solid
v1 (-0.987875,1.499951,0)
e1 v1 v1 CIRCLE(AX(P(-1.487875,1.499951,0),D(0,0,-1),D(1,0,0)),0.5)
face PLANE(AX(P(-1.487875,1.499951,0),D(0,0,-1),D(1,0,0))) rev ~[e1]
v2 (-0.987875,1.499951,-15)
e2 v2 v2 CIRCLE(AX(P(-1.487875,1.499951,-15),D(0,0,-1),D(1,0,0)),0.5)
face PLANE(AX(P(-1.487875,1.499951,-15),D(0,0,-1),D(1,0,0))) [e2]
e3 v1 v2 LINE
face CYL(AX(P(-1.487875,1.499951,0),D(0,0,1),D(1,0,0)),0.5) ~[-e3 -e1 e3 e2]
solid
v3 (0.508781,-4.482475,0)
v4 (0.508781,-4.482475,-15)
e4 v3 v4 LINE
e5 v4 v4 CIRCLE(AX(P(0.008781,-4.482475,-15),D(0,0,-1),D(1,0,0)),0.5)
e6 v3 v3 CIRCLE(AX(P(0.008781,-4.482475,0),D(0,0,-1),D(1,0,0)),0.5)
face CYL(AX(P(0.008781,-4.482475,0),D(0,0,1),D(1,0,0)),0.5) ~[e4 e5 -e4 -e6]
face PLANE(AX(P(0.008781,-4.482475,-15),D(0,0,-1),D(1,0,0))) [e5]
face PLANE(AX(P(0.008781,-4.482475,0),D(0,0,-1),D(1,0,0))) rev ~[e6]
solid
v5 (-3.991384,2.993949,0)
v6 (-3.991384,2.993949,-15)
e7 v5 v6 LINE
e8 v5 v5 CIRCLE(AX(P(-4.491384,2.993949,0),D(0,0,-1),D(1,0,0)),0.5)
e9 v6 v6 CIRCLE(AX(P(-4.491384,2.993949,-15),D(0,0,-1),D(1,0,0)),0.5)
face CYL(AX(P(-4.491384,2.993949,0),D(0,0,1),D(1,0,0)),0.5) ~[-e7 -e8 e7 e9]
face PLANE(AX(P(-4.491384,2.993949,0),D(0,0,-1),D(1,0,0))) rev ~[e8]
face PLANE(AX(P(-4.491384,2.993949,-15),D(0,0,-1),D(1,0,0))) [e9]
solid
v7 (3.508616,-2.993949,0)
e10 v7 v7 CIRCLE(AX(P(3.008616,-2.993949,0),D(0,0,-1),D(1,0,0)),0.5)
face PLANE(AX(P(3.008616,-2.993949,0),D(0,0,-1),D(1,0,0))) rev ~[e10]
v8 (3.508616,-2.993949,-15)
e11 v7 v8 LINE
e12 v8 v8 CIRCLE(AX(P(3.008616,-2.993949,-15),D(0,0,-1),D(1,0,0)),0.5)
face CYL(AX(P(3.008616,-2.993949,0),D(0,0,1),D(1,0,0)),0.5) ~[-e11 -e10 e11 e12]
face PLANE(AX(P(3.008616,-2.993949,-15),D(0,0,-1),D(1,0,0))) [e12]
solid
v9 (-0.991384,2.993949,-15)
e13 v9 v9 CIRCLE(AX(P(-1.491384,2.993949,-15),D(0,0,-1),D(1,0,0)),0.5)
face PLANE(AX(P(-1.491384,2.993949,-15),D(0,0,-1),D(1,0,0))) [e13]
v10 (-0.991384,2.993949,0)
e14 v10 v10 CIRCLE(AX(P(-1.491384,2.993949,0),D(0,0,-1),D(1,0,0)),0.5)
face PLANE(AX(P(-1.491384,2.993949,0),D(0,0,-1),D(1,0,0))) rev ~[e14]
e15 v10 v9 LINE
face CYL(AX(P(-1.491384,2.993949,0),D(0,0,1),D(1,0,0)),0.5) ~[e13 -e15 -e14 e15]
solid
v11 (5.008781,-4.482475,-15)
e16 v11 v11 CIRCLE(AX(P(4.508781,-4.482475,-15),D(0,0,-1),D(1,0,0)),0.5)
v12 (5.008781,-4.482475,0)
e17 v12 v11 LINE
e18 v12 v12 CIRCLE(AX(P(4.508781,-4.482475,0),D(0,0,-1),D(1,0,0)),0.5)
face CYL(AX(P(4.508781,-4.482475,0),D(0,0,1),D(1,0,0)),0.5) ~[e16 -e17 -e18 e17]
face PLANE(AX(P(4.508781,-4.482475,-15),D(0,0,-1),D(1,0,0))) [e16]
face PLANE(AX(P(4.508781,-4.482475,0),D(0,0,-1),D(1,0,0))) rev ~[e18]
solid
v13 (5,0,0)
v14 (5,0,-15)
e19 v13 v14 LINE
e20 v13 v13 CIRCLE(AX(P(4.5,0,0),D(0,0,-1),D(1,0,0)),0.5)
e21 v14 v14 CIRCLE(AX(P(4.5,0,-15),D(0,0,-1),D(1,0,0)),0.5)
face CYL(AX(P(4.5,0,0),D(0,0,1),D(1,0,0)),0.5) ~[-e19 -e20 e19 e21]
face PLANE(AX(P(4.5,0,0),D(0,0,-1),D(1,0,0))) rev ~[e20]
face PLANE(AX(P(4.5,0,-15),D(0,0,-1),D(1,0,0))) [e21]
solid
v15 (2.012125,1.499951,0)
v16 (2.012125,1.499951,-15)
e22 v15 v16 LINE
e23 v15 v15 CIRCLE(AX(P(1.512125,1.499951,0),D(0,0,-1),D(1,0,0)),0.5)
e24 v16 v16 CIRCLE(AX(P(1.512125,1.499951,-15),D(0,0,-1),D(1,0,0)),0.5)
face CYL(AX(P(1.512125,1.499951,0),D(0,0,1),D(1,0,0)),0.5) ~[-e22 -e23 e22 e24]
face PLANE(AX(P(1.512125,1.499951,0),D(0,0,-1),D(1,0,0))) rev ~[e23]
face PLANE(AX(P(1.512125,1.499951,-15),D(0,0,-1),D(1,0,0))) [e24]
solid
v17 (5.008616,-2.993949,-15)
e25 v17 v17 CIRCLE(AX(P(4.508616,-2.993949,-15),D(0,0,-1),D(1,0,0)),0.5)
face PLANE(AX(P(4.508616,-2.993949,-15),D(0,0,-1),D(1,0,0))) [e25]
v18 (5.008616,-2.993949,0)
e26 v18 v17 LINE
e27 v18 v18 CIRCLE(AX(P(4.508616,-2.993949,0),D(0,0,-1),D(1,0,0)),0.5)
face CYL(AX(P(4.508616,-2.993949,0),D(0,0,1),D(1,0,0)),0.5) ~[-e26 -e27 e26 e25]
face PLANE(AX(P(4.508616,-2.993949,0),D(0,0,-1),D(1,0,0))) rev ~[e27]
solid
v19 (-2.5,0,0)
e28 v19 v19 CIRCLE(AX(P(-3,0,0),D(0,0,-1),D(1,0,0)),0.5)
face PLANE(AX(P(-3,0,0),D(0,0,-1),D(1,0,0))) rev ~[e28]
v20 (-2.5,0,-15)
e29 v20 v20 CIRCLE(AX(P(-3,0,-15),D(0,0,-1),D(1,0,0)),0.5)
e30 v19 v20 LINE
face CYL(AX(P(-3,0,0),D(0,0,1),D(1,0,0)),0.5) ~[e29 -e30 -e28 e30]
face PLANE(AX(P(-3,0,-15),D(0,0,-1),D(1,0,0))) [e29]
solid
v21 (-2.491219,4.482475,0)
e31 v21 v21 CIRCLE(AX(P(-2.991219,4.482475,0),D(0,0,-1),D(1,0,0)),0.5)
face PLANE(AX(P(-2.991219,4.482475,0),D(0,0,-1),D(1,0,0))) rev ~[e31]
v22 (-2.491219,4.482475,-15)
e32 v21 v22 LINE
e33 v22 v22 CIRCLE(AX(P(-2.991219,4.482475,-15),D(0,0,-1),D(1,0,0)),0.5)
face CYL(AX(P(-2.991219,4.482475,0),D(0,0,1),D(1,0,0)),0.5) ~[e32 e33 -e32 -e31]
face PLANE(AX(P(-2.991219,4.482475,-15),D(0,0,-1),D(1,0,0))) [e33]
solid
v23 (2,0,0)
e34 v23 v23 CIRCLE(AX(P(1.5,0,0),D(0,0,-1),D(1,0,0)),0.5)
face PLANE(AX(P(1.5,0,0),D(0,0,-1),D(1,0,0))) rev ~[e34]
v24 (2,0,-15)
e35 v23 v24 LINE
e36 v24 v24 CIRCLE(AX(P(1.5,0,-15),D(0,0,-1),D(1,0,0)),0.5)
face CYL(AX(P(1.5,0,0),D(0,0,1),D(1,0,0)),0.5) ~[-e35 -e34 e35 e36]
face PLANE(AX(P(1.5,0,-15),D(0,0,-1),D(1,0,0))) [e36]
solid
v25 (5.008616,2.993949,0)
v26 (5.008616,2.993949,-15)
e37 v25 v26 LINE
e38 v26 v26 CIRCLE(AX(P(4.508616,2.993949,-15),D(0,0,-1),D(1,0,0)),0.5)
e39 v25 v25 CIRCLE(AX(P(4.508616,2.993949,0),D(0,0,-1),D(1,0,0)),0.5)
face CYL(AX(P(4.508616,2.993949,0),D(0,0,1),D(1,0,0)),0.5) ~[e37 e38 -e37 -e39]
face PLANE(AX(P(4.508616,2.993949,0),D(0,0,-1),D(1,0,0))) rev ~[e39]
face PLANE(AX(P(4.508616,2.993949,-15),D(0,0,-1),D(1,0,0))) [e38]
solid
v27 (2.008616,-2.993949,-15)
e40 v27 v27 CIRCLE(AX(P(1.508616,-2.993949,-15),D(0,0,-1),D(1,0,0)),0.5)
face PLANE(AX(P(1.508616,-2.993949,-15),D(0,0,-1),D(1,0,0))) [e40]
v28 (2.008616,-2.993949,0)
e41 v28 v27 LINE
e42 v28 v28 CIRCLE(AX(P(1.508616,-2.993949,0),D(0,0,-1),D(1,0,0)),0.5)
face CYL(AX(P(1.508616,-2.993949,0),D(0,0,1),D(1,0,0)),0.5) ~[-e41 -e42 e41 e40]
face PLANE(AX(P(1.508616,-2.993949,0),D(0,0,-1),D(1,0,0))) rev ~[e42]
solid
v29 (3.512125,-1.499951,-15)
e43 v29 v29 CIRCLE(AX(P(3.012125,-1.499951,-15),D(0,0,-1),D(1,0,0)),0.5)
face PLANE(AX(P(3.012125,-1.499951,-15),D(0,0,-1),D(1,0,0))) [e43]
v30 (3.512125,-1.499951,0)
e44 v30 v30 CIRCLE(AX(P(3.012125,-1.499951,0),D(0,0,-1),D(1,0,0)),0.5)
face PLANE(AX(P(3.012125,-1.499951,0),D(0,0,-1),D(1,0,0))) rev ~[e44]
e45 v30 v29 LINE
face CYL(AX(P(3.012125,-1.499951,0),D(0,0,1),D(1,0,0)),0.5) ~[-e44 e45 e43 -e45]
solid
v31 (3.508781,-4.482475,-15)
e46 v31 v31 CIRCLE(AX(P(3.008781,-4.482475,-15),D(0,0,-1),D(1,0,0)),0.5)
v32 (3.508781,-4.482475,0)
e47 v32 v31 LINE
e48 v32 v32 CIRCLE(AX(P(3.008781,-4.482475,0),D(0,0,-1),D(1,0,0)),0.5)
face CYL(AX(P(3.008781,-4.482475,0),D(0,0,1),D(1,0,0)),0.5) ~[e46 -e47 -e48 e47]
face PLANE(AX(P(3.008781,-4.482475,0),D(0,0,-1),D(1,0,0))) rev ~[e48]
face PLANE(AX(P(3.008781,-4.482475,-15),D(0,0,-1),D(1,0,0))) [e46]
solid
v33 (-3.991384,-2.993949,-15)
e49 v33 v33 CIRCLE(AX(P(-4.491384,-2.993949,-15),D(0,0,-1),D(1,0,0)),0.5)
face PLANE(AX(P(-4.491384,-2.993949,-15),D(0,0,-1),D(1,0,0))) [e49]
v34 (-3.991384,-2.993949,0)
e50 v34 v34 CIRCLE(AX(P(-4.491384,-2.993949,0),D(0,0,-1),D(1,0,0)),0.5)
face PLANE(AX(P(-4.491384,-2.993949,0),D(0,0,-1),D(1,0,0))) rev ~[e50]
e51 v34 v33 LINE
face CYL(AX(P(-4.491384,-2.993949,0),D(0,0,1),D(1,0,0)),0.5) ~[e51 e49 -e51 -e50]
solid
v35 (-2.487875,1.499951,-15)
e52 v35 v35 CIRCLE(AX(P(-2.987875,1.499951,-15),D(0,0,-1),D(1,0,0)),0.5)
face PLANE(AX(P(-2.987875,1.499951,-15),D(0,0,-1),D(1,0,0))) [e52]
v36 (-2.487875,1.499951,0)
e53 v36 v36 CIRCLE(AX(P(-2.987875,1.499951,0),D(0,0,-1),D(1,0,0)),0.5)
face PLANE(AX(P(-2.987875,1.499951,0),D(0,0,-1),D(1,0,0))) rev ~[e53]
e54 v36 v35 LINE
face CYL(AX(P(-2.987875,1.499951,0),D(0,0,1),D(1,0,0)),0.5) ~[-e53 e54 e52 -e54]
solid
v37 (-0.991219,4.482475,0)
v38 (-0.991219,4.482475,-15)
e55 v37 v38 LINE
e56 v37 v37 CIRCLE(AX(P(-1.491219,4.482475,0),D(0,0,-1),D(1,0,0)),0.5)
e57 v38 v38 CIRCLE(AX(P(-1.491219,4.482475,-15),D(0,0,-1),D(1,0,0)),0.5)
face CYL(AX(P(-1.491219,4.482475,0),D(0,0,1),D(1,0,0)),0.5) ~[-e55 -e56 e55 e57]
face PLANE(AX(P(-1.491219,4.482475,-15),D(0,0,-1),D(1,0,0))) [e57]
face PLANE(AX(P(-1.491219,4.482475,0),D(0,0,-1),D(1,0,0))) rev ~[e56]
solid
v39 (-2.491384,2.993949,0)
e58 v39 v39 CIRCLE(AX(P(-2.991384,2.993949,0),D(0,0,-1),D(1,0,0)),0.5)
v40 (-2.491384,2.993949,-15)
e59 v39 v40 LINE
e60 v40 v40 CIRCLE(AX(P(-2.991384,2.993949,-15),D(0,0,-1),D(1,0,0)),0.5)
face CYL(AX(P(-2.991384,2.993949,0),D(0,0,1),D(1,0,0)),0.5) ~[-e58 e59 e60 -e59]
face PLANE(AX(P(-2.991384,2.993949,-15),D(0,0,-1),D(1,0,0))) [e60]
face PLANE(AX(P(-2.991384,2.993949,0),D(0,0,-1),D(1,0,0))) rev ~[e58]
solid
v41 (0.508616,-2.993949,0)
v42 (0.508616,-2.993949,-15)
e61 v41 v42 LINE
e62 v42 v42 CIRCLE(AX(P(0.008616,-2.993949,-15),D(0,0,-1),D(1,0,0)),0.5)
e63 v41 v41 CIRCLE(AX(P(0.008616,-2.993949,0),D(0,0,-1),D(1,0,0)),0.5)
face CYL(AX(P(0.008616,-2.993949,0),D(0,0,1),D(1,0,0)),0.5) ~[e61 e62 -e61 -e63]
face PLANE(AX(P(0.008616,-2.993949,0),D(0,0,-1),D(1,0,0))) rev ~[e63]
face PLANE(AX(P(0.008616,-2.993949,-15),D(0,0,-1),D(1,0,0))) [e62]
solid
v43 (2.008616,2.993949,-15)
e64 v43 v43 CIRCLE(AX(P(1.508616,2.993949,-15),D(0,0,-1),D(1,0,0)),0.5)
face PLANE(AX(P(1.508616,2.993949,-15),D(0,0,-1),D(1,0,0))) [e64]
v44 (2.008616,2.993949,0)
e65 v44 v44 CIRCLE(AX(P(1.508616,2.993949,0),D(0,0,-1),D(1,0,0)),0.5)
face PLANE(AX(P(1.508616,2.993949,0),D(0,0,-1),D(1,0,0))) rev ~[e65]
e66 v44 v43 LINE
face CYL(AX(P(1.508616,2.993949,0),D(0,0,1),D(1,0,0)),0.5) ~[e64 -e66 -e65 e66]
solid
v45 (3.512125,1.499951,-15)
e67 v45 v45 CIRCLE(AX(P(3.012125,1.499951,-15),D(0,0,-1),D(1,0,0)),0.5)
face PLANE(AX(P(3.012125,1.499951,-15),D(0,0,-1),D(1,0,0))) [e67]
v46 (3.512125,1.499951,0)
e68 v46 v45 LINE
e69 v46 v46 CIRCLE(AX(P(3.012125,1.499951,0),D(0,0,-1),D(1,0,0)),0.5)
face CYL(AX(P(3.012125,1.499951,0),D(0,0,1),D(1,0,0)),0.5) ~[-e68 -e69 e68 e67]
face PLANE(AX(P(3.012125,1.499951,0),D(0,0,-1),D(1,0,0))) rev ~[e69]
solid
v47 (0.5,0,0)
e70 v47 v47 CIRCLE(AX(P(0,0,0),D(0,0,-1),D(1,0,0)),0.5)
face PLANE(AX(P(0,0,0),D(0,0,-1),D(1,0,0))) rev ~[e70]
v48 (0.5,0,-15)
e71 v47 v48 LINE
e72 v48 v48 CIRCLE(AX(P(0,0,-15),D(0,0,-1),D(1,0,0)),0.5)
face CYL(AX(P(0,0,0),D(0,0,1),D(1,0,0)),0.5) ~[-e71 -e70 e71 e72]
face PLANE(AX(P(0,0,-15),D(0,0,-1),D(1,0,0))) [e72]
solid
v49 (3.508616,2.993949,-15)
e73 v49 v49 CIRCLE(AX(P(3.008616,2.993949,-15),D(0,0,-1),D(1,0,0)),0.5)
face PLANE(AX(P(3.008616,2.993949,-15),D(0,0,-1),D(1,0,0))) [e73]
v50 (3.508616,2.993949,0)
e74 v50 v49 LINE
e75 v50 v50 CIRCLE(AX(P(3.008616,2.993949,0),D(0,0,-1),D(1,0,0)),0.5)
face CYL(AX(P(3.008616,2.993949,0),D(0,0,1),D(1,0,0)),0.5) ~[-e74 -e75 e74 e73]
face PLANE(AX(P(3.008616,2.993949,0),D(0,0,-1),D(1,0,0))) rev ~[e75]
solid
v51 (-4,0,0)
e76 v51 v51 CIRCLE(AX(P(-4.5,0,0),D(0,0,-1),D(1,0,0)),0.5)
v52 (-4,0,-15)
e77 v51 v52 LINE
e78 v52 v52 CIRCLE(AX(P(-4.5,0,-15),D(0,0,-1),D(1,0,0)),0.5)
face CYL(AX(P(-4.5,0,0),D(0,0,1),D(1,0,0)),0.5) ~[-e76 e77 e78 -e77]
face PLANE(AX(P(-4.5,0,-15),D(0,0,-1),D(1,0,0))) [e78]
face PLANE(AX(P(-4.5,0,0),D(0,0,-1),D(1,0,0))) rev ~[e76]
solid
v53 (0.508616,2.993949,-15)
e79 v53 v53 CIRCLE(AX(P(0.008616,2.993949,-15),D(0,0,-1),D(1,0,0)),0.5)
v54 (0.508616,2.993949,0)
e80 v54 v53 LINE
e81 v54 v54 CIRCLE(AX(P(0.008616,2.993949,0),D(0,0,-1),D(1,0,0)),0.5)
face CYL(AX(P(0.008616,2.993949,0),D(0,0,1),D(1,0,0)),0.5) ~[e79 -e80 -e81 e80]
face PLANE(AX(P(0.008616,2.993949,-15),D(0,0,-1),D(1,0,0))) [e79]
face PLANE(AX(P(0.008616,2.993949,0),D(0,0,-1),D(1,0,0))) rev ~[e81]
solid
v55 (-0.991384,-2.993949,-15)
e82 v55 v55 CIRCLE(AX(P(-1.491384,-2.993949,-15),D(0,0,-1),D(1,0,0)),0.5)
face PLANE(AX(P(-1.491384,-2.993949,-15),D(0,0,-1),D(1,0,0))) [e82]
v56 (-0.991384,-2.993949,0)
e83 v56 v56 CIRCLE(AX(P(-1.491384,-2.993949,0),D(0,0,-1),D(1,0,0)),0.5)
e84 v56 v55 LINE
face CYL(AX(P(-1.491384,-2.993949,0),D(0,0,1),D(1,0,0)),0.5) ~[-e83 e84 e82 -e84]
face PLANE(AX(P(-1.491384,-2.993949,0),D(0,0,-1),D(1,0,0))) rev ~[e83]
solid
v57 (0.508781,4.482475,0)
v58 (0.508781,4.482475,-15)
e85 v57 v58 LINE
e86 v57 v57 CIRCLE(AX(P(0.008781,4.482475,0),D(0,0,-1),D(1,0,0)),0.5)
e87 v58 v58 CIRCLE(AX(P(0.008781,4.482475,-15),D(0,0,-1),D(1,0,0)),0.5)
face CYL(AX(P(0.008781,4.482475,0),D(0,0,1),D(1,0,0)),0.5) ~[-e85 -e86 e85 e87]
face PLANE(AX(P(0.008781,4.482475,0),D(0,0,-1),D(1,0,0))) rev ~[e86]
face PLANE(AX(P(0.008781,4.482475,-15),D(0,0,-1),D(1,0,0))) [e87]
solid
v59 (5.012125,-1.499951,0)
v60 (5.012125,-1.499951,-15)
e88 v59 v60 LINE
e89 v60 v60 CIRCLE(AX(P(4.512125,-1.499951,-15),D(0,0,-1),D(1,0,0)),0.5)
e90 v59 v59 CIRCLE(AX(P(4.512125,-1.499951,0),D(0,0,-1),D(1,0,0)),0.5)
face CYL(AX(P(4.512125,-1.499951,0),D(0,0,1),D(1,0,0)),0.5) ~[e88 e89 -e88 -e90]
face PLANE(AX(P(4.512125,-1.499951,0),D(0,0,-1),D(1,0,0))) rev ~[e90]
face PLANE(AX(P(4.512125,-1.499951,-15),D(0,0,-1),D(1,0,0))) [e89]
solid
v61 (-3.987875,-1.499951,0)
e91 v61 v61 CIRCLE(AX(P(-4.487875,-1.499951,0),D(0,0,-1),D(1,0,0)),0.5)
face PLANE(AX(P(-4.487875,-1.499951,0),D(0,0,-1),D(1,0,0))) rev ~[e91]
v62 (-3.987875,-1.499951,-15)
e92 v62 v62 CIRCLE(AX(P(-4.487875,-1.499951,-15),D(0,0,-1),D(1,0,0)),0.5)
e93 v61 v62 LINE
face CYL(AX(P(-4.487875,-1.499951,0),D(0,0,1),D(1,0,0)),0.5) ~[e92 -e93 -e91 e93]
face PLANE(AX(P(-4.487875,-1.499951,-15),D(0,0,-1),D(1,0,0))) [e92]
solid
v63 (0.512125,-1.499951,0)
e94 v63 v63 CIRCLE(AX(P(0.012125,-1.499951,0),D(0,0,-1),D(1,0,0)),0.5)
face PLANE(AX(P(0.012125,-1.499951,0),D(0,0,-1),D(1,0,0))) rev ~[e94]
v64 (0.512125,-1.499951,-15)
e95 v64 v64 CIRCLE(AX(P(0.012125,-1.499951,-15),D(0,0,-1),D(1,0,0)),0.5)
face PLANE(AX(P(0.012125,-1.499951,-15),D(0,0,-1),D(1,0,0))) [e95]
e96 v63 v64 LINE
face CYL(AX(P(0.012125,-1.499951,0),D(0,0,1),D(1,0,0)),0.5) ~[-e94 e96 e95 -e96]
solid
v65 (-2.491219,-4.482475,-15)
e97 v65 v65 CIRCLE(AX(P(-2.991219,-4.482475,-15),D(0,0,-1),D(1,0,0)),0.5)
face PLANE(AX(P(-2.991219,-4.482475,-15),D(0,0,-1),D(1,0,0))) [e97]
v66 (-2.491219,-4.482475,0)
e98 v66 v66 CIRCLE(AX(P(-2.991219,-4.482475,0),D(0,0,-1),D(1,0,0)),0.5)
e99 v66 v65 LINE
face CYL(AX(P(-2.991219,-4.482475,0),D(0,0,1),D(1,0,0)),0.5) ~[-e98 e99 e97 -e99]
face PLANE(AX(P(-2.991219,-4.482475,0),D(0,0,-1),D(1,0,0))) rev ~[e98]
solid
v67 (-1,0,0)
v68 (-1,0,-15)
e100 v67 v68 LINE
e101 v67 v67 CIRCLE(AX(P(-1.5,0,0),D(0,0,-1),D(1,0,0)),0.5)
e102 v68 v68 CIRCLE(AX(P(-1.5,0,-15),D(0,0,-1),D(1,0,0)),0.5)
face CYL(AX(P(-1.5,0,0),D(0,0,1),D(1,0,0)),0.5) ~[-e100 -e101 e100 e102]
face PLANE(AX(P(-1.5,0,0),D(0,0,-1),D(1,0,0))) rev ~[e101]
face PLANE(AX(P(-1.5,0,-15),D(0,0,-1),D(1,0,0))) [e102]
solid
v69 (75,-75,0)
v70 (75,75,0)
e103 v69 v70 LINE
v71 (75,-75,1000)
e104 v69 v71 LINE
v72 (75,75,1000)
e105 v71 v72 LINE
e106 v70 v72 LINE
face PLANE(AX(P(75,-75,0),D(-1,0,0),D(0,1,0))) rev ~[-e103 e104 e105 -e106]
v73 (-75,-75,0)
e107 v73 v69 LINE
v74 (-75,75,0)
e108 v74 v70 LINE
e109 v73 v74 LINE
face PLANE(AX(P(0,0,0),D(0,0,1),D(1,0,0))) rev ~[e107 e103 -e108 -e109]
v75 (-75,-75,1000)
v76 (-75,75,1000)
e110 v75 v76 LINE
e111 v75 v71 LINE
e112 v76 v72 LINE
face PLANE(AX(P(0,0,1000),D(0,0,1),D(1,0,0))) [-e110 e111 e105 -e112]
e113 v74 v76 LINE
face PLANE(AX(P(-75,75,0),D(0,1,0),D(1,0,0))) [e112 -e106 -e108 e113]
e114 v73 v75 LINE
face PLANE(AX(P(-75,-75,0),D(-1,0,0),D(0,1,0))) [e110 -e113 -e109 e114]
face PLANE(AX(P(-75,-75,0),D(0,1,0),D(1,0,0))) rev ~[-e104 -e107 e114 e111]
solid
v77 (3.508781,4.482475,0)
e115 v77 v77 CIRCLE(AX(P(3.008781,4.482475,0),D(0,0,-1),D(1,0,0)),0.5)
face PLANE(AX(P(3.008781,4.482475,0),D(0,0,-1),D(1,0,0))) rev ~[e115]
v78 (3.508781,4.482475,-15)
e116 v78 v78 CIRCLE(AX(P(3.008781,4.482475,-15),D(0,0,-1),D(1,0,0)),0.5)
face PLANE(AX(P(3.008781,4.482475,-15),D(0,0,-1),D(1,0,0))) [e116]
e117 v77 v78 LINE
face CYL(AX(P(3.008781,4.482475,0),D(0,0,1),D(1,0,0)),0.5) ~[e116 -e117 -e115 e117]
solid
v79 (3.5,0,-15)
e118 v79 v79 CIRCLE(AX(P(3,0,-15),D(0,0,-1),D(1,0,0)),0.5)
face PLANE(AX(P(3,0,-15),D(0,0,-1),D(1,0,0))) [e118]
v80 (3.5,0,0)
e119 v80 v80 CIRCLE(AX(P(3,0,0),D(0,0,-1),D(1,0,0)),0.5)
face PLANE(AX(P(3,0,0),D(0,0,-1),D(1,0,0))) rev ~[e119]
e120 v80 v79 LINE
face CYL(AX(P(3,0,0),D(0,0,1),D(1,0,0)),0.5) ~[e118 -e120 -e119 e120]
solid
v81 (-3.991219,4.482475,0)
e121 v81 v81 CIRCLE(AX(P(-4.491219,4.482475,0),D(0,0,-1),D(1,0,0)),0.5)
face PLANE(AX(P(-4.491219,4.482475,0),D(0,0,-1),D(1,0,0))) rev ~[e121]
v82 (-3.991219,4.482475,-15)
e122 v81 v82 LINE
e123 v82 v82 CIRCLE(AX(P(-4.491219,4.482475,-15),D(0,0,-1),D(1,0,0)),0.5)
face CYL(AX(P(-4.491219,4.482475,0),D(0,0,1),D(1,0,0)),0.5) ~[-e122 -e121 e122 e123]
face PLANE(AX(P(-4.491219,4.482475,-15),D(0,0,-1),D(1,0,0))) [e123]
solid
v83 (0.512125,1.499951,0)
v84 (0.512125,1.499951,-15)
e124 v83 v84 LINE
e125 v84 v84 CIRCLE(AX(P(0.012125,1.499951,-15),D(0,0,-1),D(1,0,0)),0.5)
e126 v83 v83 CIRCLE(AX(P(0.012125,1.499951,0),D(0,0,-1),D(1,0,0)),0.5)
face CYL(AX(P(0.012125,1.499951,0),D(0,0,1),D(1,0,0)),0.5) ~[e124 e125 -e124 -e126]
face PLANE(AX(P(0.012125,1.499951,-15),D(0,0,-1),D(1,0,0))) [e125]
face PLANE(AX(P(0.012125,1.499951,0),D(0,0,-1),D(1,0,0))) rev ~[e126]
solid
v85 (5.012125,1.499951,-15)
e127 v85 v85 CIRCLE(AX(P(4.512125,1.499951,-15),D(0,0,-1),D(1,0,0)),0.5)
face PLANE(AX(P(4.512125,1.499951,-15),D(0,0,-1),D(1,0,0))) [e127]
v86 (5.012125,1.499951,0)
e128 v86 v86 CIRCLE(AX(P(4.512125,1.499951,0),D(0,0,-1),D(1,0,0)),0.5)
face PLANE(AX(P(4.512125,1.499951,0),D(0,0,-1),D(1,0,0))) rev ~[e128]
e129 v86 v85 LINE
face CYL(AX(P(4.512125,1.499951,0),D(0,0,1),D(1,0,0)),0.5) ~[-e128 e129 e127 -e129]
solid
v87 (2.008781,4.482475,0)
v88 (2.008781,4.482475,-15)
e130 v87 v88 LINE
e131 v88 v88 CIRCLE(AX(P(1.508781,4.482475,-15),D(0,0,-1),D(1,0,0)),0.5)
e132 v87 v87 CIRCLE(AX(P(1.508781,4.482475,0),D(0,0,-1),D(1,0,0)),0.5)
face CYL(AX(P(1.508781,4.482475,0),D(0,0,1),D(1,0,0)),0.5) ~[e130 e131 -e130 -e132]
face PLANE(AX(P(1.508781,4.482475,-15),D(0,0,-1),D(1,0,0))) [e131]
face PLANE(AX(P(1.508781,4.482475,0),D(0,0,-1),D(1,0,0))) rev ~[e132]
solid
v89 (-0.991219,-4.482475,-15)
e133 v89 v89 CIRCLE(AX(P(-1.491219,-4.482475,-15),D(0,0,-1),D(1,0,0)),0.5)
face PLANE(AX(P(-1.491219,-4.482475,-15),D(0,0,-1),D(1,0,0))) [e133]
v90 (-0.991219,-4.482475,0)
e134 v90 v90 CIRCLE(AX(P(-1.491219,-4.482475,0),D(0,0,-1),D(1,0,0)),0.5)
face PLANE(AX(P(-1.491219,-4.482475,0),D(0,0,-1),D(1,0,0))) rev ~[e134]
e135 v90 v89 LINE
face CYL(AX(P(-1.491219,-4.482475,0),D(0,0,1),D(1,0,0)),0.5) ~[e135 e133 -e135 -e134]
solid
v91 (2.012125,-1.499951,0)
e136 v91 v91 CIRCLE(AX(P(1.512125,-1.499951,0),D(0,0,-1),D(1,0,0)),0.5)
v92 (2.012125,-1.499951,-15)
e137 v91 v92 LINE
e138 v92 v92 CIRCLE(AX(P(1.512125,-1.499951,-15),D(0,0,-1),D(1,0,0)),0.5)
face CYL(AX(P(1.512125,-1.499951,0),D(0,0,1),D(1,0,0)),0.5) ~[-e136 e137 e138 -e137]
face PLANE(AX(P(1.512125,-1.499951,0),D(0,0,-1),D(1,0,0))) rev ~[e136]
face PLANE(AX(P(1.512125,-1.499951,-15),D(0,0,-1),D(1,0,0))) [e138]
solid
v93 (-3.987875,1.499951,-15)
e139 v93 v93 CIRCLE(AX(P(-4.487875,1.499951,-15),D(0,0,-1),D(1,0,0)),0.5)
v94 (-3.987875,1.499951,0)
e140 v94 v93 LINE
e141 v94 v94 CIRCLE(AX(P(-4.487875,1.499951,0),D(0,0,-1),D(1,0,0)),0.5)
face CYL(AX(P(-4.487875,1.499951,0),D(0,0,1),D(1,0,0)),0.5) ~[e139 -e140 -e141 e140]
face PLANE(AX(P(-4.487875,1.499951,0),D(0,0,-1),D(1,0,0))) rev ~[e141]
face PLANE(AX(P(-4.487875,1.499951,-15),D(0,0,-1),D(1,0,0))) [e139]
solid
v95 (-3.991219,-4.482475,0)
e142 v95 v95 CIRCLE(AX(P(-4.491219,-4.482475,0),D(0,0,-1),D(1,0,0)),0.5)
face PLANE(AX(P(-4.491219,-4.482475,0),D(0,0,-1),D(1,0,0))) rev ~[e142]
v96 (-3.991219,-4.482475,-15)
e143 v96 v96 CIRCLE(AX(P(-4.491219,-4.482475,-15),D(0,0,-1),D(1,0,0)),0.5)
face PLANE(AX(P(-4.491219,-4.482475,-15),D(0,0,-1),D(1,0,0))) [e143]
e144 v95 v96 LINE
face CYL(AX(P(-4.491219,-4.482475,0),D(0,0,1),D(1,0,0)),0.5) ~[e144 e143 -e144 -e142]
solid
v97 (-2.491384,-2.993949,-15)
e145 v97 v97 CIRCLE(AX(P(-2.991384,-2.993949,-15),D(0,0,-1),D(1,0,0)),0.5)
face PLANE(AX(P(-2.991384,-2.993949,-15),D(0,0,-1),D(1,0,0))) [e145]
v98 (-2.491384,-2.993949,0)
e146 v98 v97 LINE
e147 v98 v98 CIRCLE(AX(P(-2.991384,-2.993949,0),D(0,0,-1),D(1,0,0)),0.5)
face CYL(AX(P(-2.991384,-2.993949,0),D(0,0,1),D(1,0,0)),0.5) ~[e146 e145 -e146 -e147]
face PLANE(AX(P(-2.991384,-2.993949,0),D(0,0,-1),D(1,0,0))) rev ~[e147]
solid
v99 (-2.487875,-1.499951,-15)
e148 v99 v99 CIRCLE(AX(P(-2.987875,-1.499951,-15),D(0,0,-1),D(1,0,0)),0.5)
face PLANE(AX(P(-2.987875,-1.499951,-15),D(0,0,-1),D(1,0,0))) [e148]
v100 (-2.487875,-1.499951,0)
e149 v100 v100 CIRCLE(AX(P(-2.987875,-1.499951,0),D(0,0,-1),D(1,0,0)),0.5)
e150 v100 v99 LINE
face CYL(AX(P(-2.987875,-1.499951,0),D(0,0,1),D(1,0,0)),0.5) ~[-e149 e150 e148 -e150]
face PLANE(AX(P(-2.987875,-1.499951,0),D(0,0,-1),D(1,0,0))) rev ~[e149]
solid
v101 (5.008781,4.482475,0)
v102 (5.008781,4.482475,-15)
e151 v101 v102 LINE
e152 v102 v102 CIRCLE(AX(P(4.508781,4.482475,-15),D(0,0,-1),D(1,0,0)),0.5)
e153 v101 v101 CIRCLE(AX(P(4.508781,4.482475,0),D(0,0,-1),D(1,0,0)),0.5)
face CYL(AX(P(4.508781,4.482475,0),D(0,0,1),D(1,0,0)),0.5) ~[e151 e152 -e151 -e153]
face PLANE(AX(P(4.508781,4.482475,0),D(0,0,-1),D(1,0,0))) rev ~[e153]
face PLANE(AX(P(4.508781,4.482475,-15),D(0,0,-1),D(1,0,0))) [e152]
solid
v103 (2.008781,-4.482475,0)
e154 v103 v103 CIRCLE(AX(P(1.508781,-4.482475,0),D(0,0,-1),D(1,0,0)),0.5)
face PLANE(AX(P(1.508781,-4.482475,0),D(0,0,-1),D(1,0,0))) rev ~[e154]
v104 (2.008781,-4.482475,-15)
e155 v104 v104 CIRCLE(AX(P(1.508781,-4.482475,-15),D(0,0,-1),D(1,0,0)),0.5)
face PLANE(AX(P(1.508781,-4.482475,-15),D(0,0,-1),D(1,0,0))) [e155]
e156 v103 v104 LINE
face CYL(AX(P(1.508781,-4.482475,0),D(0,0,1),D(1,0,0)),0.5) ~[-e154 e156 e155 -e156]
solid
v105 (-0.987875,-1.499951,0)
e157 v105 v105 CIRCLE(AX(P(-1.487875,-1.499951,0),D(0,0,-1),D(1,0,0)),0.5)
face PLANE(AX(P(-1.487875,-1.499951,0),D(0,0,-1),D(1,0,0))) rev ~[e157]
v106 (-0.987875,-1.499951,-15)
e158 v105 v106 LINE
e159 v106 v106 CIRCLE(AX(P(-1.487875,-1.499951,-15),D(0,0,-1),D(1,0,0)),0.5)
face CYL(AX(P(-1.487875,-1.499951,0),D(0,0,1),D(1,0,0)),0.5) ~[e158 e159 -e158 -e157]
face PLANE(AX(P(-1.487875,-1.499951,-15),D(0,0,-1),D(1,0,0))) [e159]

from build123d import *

# Parameters (mm, degrees)
F0_W     = 150
F0_H     = 150
F1_DEPTH = 1000
F2_R     = 0.5
F3_DEPTH = 15


with BuildPart() as f1:
    # F0 (on Top) → F1 (new body)
    with BuildSketch(Plane.XY):
        Rectangle(F0_W, F0_H)
    extrude(amount=F1_DEPTH)


with BuildPart() as f3:
    # F2 (on face) → F3 (new body)
    with BuildSketch(Plane(origin=(0, 0, 0), x_dir=(1, 0, 0), z_dir=(0, 0, -1))):
        with Locations((3.008616, -2.993949)):
            Circle(F2_R)
        with Locations((-2.991219, 4.482475)):
            Circle(F2_R)
        with Locations((1.512125, -1.499951)):
            Circle(F2_R)
        with Locations((-2.991384, -2.993949)):
            Circle(F2_R)
        with Locations((-4.487875, 1.499951)):
            Circle(F2_R)
        with Locations((4.508781, 4.482475)):
            Circle(F2_R)
        with Locations((-4.491384, 2.993949)):
            Circle(F2_R)
        with Locations((1.508781, 4.482475)):
            Circle(F2_R)
        with Locations((3.008616, 2.993949)):
            Circle(F2_R)
        with Locations((-4.491384, -2.993949)):
            Circle(F2_R)
        with Locations((-1.491384, 2.993949)):
            Circle(F2_R)
        with Locations((-1.491384, -2.993949)):
            Circle(F2_R)
        with Locations((3.012125, -1.499951)):
            Circle(F2_R)
        with Locations((-2.991219, -4.482475)):
            Circle(F2_R)
        with Locations((1.508781, -4.482475)):
            Circle(F2_R)
        Circle(F2_R)
        with Locations((1.5, 0)):
            Circle(F2_R)
        with Locations((3, 0)):
            Circle(F2_R)
        with Locations((4.5, 0)):
            Circle(F2_R)
        with Locations((-1.5, 0)):
            Circle(F2_R)
        with Locations((-3, 0)):
            Circle(F2_R)
        with Locations((-4.5, 0)):
            Circle(F2_R)
        with Locations((0.012125, 1.499951)):
            Circle(F2_R)
        with Locations((1.512125, 1.499951)):
            Circle(F2_R)
        with Locations((3.012125, 1.499951)):
            Circle(F2_R)
        with Locations((4.512125, 1.499951)):
            Circle(F2_R)
        with Locations((4.508616, -2.993949)):
            Circle(F2_R)
        with Locations((-1.487875, 1.499951)):
            Circle(F2_R)
        with Locations((-4.487875, -1.499951)):
            Circle(F2_R)
        with Locations((-2.991384, 2.993949)):
            Circle(F2_R)
        with Locations((-2.987875, 1.499951)):
            Circle(F2_R)
        with Locations((4.508781, -4.482475)):
            Circle(F2_R)
        with Locations((3.008781, 4.482475)):
            Circle(F2_R)
        with Locations((-1.487875, -1.499951)):
            Circle(F2_R)
        with Locations((-4.491219, -4.482475)):
            Circle(F2_R)
        with Locations((-4.491219, 4.482475)):
            Circle(F2_R)
        with Locations((4.512125, -1.499951)):
            Circle(F2_R)
        with Locations((-2.987875, -1.499951)):
            Circle(F2_R)
        with Locations((4.508616, 2.993949)):
            Circle(F2_R)
        with Locations((0.012125, -1.499951)):
            Circle(F2_R)
        with Locations((3.008781, -4.482475)):
            Circle(F2_R)
        with Locations((0.008781, -4.482475)):
            Circle(F2_R)
        with Locations((-1.491219, -4.482475)):
            Circle(F2_R)
        with Locations((0.008781, 4.482475)):
            Circle(F2_R)
        with Locations((-1.491219, 4.482475)):
            Circle(F2_R)
        with Locations((1.508616, -2.993949)):
            Circle(F2_R)
        with Locations((0.008616, -2.993949)):
            Circle(F2_R)
        with Locations((0.008616, 2.993949)):
            Circle(F2_R)
        with Locations((1.508616, 2.993949)):
            Circle(F2_R)
    extrude(amount=F3_DEPTH)


solid = Compound([f1.part, f3.part])
